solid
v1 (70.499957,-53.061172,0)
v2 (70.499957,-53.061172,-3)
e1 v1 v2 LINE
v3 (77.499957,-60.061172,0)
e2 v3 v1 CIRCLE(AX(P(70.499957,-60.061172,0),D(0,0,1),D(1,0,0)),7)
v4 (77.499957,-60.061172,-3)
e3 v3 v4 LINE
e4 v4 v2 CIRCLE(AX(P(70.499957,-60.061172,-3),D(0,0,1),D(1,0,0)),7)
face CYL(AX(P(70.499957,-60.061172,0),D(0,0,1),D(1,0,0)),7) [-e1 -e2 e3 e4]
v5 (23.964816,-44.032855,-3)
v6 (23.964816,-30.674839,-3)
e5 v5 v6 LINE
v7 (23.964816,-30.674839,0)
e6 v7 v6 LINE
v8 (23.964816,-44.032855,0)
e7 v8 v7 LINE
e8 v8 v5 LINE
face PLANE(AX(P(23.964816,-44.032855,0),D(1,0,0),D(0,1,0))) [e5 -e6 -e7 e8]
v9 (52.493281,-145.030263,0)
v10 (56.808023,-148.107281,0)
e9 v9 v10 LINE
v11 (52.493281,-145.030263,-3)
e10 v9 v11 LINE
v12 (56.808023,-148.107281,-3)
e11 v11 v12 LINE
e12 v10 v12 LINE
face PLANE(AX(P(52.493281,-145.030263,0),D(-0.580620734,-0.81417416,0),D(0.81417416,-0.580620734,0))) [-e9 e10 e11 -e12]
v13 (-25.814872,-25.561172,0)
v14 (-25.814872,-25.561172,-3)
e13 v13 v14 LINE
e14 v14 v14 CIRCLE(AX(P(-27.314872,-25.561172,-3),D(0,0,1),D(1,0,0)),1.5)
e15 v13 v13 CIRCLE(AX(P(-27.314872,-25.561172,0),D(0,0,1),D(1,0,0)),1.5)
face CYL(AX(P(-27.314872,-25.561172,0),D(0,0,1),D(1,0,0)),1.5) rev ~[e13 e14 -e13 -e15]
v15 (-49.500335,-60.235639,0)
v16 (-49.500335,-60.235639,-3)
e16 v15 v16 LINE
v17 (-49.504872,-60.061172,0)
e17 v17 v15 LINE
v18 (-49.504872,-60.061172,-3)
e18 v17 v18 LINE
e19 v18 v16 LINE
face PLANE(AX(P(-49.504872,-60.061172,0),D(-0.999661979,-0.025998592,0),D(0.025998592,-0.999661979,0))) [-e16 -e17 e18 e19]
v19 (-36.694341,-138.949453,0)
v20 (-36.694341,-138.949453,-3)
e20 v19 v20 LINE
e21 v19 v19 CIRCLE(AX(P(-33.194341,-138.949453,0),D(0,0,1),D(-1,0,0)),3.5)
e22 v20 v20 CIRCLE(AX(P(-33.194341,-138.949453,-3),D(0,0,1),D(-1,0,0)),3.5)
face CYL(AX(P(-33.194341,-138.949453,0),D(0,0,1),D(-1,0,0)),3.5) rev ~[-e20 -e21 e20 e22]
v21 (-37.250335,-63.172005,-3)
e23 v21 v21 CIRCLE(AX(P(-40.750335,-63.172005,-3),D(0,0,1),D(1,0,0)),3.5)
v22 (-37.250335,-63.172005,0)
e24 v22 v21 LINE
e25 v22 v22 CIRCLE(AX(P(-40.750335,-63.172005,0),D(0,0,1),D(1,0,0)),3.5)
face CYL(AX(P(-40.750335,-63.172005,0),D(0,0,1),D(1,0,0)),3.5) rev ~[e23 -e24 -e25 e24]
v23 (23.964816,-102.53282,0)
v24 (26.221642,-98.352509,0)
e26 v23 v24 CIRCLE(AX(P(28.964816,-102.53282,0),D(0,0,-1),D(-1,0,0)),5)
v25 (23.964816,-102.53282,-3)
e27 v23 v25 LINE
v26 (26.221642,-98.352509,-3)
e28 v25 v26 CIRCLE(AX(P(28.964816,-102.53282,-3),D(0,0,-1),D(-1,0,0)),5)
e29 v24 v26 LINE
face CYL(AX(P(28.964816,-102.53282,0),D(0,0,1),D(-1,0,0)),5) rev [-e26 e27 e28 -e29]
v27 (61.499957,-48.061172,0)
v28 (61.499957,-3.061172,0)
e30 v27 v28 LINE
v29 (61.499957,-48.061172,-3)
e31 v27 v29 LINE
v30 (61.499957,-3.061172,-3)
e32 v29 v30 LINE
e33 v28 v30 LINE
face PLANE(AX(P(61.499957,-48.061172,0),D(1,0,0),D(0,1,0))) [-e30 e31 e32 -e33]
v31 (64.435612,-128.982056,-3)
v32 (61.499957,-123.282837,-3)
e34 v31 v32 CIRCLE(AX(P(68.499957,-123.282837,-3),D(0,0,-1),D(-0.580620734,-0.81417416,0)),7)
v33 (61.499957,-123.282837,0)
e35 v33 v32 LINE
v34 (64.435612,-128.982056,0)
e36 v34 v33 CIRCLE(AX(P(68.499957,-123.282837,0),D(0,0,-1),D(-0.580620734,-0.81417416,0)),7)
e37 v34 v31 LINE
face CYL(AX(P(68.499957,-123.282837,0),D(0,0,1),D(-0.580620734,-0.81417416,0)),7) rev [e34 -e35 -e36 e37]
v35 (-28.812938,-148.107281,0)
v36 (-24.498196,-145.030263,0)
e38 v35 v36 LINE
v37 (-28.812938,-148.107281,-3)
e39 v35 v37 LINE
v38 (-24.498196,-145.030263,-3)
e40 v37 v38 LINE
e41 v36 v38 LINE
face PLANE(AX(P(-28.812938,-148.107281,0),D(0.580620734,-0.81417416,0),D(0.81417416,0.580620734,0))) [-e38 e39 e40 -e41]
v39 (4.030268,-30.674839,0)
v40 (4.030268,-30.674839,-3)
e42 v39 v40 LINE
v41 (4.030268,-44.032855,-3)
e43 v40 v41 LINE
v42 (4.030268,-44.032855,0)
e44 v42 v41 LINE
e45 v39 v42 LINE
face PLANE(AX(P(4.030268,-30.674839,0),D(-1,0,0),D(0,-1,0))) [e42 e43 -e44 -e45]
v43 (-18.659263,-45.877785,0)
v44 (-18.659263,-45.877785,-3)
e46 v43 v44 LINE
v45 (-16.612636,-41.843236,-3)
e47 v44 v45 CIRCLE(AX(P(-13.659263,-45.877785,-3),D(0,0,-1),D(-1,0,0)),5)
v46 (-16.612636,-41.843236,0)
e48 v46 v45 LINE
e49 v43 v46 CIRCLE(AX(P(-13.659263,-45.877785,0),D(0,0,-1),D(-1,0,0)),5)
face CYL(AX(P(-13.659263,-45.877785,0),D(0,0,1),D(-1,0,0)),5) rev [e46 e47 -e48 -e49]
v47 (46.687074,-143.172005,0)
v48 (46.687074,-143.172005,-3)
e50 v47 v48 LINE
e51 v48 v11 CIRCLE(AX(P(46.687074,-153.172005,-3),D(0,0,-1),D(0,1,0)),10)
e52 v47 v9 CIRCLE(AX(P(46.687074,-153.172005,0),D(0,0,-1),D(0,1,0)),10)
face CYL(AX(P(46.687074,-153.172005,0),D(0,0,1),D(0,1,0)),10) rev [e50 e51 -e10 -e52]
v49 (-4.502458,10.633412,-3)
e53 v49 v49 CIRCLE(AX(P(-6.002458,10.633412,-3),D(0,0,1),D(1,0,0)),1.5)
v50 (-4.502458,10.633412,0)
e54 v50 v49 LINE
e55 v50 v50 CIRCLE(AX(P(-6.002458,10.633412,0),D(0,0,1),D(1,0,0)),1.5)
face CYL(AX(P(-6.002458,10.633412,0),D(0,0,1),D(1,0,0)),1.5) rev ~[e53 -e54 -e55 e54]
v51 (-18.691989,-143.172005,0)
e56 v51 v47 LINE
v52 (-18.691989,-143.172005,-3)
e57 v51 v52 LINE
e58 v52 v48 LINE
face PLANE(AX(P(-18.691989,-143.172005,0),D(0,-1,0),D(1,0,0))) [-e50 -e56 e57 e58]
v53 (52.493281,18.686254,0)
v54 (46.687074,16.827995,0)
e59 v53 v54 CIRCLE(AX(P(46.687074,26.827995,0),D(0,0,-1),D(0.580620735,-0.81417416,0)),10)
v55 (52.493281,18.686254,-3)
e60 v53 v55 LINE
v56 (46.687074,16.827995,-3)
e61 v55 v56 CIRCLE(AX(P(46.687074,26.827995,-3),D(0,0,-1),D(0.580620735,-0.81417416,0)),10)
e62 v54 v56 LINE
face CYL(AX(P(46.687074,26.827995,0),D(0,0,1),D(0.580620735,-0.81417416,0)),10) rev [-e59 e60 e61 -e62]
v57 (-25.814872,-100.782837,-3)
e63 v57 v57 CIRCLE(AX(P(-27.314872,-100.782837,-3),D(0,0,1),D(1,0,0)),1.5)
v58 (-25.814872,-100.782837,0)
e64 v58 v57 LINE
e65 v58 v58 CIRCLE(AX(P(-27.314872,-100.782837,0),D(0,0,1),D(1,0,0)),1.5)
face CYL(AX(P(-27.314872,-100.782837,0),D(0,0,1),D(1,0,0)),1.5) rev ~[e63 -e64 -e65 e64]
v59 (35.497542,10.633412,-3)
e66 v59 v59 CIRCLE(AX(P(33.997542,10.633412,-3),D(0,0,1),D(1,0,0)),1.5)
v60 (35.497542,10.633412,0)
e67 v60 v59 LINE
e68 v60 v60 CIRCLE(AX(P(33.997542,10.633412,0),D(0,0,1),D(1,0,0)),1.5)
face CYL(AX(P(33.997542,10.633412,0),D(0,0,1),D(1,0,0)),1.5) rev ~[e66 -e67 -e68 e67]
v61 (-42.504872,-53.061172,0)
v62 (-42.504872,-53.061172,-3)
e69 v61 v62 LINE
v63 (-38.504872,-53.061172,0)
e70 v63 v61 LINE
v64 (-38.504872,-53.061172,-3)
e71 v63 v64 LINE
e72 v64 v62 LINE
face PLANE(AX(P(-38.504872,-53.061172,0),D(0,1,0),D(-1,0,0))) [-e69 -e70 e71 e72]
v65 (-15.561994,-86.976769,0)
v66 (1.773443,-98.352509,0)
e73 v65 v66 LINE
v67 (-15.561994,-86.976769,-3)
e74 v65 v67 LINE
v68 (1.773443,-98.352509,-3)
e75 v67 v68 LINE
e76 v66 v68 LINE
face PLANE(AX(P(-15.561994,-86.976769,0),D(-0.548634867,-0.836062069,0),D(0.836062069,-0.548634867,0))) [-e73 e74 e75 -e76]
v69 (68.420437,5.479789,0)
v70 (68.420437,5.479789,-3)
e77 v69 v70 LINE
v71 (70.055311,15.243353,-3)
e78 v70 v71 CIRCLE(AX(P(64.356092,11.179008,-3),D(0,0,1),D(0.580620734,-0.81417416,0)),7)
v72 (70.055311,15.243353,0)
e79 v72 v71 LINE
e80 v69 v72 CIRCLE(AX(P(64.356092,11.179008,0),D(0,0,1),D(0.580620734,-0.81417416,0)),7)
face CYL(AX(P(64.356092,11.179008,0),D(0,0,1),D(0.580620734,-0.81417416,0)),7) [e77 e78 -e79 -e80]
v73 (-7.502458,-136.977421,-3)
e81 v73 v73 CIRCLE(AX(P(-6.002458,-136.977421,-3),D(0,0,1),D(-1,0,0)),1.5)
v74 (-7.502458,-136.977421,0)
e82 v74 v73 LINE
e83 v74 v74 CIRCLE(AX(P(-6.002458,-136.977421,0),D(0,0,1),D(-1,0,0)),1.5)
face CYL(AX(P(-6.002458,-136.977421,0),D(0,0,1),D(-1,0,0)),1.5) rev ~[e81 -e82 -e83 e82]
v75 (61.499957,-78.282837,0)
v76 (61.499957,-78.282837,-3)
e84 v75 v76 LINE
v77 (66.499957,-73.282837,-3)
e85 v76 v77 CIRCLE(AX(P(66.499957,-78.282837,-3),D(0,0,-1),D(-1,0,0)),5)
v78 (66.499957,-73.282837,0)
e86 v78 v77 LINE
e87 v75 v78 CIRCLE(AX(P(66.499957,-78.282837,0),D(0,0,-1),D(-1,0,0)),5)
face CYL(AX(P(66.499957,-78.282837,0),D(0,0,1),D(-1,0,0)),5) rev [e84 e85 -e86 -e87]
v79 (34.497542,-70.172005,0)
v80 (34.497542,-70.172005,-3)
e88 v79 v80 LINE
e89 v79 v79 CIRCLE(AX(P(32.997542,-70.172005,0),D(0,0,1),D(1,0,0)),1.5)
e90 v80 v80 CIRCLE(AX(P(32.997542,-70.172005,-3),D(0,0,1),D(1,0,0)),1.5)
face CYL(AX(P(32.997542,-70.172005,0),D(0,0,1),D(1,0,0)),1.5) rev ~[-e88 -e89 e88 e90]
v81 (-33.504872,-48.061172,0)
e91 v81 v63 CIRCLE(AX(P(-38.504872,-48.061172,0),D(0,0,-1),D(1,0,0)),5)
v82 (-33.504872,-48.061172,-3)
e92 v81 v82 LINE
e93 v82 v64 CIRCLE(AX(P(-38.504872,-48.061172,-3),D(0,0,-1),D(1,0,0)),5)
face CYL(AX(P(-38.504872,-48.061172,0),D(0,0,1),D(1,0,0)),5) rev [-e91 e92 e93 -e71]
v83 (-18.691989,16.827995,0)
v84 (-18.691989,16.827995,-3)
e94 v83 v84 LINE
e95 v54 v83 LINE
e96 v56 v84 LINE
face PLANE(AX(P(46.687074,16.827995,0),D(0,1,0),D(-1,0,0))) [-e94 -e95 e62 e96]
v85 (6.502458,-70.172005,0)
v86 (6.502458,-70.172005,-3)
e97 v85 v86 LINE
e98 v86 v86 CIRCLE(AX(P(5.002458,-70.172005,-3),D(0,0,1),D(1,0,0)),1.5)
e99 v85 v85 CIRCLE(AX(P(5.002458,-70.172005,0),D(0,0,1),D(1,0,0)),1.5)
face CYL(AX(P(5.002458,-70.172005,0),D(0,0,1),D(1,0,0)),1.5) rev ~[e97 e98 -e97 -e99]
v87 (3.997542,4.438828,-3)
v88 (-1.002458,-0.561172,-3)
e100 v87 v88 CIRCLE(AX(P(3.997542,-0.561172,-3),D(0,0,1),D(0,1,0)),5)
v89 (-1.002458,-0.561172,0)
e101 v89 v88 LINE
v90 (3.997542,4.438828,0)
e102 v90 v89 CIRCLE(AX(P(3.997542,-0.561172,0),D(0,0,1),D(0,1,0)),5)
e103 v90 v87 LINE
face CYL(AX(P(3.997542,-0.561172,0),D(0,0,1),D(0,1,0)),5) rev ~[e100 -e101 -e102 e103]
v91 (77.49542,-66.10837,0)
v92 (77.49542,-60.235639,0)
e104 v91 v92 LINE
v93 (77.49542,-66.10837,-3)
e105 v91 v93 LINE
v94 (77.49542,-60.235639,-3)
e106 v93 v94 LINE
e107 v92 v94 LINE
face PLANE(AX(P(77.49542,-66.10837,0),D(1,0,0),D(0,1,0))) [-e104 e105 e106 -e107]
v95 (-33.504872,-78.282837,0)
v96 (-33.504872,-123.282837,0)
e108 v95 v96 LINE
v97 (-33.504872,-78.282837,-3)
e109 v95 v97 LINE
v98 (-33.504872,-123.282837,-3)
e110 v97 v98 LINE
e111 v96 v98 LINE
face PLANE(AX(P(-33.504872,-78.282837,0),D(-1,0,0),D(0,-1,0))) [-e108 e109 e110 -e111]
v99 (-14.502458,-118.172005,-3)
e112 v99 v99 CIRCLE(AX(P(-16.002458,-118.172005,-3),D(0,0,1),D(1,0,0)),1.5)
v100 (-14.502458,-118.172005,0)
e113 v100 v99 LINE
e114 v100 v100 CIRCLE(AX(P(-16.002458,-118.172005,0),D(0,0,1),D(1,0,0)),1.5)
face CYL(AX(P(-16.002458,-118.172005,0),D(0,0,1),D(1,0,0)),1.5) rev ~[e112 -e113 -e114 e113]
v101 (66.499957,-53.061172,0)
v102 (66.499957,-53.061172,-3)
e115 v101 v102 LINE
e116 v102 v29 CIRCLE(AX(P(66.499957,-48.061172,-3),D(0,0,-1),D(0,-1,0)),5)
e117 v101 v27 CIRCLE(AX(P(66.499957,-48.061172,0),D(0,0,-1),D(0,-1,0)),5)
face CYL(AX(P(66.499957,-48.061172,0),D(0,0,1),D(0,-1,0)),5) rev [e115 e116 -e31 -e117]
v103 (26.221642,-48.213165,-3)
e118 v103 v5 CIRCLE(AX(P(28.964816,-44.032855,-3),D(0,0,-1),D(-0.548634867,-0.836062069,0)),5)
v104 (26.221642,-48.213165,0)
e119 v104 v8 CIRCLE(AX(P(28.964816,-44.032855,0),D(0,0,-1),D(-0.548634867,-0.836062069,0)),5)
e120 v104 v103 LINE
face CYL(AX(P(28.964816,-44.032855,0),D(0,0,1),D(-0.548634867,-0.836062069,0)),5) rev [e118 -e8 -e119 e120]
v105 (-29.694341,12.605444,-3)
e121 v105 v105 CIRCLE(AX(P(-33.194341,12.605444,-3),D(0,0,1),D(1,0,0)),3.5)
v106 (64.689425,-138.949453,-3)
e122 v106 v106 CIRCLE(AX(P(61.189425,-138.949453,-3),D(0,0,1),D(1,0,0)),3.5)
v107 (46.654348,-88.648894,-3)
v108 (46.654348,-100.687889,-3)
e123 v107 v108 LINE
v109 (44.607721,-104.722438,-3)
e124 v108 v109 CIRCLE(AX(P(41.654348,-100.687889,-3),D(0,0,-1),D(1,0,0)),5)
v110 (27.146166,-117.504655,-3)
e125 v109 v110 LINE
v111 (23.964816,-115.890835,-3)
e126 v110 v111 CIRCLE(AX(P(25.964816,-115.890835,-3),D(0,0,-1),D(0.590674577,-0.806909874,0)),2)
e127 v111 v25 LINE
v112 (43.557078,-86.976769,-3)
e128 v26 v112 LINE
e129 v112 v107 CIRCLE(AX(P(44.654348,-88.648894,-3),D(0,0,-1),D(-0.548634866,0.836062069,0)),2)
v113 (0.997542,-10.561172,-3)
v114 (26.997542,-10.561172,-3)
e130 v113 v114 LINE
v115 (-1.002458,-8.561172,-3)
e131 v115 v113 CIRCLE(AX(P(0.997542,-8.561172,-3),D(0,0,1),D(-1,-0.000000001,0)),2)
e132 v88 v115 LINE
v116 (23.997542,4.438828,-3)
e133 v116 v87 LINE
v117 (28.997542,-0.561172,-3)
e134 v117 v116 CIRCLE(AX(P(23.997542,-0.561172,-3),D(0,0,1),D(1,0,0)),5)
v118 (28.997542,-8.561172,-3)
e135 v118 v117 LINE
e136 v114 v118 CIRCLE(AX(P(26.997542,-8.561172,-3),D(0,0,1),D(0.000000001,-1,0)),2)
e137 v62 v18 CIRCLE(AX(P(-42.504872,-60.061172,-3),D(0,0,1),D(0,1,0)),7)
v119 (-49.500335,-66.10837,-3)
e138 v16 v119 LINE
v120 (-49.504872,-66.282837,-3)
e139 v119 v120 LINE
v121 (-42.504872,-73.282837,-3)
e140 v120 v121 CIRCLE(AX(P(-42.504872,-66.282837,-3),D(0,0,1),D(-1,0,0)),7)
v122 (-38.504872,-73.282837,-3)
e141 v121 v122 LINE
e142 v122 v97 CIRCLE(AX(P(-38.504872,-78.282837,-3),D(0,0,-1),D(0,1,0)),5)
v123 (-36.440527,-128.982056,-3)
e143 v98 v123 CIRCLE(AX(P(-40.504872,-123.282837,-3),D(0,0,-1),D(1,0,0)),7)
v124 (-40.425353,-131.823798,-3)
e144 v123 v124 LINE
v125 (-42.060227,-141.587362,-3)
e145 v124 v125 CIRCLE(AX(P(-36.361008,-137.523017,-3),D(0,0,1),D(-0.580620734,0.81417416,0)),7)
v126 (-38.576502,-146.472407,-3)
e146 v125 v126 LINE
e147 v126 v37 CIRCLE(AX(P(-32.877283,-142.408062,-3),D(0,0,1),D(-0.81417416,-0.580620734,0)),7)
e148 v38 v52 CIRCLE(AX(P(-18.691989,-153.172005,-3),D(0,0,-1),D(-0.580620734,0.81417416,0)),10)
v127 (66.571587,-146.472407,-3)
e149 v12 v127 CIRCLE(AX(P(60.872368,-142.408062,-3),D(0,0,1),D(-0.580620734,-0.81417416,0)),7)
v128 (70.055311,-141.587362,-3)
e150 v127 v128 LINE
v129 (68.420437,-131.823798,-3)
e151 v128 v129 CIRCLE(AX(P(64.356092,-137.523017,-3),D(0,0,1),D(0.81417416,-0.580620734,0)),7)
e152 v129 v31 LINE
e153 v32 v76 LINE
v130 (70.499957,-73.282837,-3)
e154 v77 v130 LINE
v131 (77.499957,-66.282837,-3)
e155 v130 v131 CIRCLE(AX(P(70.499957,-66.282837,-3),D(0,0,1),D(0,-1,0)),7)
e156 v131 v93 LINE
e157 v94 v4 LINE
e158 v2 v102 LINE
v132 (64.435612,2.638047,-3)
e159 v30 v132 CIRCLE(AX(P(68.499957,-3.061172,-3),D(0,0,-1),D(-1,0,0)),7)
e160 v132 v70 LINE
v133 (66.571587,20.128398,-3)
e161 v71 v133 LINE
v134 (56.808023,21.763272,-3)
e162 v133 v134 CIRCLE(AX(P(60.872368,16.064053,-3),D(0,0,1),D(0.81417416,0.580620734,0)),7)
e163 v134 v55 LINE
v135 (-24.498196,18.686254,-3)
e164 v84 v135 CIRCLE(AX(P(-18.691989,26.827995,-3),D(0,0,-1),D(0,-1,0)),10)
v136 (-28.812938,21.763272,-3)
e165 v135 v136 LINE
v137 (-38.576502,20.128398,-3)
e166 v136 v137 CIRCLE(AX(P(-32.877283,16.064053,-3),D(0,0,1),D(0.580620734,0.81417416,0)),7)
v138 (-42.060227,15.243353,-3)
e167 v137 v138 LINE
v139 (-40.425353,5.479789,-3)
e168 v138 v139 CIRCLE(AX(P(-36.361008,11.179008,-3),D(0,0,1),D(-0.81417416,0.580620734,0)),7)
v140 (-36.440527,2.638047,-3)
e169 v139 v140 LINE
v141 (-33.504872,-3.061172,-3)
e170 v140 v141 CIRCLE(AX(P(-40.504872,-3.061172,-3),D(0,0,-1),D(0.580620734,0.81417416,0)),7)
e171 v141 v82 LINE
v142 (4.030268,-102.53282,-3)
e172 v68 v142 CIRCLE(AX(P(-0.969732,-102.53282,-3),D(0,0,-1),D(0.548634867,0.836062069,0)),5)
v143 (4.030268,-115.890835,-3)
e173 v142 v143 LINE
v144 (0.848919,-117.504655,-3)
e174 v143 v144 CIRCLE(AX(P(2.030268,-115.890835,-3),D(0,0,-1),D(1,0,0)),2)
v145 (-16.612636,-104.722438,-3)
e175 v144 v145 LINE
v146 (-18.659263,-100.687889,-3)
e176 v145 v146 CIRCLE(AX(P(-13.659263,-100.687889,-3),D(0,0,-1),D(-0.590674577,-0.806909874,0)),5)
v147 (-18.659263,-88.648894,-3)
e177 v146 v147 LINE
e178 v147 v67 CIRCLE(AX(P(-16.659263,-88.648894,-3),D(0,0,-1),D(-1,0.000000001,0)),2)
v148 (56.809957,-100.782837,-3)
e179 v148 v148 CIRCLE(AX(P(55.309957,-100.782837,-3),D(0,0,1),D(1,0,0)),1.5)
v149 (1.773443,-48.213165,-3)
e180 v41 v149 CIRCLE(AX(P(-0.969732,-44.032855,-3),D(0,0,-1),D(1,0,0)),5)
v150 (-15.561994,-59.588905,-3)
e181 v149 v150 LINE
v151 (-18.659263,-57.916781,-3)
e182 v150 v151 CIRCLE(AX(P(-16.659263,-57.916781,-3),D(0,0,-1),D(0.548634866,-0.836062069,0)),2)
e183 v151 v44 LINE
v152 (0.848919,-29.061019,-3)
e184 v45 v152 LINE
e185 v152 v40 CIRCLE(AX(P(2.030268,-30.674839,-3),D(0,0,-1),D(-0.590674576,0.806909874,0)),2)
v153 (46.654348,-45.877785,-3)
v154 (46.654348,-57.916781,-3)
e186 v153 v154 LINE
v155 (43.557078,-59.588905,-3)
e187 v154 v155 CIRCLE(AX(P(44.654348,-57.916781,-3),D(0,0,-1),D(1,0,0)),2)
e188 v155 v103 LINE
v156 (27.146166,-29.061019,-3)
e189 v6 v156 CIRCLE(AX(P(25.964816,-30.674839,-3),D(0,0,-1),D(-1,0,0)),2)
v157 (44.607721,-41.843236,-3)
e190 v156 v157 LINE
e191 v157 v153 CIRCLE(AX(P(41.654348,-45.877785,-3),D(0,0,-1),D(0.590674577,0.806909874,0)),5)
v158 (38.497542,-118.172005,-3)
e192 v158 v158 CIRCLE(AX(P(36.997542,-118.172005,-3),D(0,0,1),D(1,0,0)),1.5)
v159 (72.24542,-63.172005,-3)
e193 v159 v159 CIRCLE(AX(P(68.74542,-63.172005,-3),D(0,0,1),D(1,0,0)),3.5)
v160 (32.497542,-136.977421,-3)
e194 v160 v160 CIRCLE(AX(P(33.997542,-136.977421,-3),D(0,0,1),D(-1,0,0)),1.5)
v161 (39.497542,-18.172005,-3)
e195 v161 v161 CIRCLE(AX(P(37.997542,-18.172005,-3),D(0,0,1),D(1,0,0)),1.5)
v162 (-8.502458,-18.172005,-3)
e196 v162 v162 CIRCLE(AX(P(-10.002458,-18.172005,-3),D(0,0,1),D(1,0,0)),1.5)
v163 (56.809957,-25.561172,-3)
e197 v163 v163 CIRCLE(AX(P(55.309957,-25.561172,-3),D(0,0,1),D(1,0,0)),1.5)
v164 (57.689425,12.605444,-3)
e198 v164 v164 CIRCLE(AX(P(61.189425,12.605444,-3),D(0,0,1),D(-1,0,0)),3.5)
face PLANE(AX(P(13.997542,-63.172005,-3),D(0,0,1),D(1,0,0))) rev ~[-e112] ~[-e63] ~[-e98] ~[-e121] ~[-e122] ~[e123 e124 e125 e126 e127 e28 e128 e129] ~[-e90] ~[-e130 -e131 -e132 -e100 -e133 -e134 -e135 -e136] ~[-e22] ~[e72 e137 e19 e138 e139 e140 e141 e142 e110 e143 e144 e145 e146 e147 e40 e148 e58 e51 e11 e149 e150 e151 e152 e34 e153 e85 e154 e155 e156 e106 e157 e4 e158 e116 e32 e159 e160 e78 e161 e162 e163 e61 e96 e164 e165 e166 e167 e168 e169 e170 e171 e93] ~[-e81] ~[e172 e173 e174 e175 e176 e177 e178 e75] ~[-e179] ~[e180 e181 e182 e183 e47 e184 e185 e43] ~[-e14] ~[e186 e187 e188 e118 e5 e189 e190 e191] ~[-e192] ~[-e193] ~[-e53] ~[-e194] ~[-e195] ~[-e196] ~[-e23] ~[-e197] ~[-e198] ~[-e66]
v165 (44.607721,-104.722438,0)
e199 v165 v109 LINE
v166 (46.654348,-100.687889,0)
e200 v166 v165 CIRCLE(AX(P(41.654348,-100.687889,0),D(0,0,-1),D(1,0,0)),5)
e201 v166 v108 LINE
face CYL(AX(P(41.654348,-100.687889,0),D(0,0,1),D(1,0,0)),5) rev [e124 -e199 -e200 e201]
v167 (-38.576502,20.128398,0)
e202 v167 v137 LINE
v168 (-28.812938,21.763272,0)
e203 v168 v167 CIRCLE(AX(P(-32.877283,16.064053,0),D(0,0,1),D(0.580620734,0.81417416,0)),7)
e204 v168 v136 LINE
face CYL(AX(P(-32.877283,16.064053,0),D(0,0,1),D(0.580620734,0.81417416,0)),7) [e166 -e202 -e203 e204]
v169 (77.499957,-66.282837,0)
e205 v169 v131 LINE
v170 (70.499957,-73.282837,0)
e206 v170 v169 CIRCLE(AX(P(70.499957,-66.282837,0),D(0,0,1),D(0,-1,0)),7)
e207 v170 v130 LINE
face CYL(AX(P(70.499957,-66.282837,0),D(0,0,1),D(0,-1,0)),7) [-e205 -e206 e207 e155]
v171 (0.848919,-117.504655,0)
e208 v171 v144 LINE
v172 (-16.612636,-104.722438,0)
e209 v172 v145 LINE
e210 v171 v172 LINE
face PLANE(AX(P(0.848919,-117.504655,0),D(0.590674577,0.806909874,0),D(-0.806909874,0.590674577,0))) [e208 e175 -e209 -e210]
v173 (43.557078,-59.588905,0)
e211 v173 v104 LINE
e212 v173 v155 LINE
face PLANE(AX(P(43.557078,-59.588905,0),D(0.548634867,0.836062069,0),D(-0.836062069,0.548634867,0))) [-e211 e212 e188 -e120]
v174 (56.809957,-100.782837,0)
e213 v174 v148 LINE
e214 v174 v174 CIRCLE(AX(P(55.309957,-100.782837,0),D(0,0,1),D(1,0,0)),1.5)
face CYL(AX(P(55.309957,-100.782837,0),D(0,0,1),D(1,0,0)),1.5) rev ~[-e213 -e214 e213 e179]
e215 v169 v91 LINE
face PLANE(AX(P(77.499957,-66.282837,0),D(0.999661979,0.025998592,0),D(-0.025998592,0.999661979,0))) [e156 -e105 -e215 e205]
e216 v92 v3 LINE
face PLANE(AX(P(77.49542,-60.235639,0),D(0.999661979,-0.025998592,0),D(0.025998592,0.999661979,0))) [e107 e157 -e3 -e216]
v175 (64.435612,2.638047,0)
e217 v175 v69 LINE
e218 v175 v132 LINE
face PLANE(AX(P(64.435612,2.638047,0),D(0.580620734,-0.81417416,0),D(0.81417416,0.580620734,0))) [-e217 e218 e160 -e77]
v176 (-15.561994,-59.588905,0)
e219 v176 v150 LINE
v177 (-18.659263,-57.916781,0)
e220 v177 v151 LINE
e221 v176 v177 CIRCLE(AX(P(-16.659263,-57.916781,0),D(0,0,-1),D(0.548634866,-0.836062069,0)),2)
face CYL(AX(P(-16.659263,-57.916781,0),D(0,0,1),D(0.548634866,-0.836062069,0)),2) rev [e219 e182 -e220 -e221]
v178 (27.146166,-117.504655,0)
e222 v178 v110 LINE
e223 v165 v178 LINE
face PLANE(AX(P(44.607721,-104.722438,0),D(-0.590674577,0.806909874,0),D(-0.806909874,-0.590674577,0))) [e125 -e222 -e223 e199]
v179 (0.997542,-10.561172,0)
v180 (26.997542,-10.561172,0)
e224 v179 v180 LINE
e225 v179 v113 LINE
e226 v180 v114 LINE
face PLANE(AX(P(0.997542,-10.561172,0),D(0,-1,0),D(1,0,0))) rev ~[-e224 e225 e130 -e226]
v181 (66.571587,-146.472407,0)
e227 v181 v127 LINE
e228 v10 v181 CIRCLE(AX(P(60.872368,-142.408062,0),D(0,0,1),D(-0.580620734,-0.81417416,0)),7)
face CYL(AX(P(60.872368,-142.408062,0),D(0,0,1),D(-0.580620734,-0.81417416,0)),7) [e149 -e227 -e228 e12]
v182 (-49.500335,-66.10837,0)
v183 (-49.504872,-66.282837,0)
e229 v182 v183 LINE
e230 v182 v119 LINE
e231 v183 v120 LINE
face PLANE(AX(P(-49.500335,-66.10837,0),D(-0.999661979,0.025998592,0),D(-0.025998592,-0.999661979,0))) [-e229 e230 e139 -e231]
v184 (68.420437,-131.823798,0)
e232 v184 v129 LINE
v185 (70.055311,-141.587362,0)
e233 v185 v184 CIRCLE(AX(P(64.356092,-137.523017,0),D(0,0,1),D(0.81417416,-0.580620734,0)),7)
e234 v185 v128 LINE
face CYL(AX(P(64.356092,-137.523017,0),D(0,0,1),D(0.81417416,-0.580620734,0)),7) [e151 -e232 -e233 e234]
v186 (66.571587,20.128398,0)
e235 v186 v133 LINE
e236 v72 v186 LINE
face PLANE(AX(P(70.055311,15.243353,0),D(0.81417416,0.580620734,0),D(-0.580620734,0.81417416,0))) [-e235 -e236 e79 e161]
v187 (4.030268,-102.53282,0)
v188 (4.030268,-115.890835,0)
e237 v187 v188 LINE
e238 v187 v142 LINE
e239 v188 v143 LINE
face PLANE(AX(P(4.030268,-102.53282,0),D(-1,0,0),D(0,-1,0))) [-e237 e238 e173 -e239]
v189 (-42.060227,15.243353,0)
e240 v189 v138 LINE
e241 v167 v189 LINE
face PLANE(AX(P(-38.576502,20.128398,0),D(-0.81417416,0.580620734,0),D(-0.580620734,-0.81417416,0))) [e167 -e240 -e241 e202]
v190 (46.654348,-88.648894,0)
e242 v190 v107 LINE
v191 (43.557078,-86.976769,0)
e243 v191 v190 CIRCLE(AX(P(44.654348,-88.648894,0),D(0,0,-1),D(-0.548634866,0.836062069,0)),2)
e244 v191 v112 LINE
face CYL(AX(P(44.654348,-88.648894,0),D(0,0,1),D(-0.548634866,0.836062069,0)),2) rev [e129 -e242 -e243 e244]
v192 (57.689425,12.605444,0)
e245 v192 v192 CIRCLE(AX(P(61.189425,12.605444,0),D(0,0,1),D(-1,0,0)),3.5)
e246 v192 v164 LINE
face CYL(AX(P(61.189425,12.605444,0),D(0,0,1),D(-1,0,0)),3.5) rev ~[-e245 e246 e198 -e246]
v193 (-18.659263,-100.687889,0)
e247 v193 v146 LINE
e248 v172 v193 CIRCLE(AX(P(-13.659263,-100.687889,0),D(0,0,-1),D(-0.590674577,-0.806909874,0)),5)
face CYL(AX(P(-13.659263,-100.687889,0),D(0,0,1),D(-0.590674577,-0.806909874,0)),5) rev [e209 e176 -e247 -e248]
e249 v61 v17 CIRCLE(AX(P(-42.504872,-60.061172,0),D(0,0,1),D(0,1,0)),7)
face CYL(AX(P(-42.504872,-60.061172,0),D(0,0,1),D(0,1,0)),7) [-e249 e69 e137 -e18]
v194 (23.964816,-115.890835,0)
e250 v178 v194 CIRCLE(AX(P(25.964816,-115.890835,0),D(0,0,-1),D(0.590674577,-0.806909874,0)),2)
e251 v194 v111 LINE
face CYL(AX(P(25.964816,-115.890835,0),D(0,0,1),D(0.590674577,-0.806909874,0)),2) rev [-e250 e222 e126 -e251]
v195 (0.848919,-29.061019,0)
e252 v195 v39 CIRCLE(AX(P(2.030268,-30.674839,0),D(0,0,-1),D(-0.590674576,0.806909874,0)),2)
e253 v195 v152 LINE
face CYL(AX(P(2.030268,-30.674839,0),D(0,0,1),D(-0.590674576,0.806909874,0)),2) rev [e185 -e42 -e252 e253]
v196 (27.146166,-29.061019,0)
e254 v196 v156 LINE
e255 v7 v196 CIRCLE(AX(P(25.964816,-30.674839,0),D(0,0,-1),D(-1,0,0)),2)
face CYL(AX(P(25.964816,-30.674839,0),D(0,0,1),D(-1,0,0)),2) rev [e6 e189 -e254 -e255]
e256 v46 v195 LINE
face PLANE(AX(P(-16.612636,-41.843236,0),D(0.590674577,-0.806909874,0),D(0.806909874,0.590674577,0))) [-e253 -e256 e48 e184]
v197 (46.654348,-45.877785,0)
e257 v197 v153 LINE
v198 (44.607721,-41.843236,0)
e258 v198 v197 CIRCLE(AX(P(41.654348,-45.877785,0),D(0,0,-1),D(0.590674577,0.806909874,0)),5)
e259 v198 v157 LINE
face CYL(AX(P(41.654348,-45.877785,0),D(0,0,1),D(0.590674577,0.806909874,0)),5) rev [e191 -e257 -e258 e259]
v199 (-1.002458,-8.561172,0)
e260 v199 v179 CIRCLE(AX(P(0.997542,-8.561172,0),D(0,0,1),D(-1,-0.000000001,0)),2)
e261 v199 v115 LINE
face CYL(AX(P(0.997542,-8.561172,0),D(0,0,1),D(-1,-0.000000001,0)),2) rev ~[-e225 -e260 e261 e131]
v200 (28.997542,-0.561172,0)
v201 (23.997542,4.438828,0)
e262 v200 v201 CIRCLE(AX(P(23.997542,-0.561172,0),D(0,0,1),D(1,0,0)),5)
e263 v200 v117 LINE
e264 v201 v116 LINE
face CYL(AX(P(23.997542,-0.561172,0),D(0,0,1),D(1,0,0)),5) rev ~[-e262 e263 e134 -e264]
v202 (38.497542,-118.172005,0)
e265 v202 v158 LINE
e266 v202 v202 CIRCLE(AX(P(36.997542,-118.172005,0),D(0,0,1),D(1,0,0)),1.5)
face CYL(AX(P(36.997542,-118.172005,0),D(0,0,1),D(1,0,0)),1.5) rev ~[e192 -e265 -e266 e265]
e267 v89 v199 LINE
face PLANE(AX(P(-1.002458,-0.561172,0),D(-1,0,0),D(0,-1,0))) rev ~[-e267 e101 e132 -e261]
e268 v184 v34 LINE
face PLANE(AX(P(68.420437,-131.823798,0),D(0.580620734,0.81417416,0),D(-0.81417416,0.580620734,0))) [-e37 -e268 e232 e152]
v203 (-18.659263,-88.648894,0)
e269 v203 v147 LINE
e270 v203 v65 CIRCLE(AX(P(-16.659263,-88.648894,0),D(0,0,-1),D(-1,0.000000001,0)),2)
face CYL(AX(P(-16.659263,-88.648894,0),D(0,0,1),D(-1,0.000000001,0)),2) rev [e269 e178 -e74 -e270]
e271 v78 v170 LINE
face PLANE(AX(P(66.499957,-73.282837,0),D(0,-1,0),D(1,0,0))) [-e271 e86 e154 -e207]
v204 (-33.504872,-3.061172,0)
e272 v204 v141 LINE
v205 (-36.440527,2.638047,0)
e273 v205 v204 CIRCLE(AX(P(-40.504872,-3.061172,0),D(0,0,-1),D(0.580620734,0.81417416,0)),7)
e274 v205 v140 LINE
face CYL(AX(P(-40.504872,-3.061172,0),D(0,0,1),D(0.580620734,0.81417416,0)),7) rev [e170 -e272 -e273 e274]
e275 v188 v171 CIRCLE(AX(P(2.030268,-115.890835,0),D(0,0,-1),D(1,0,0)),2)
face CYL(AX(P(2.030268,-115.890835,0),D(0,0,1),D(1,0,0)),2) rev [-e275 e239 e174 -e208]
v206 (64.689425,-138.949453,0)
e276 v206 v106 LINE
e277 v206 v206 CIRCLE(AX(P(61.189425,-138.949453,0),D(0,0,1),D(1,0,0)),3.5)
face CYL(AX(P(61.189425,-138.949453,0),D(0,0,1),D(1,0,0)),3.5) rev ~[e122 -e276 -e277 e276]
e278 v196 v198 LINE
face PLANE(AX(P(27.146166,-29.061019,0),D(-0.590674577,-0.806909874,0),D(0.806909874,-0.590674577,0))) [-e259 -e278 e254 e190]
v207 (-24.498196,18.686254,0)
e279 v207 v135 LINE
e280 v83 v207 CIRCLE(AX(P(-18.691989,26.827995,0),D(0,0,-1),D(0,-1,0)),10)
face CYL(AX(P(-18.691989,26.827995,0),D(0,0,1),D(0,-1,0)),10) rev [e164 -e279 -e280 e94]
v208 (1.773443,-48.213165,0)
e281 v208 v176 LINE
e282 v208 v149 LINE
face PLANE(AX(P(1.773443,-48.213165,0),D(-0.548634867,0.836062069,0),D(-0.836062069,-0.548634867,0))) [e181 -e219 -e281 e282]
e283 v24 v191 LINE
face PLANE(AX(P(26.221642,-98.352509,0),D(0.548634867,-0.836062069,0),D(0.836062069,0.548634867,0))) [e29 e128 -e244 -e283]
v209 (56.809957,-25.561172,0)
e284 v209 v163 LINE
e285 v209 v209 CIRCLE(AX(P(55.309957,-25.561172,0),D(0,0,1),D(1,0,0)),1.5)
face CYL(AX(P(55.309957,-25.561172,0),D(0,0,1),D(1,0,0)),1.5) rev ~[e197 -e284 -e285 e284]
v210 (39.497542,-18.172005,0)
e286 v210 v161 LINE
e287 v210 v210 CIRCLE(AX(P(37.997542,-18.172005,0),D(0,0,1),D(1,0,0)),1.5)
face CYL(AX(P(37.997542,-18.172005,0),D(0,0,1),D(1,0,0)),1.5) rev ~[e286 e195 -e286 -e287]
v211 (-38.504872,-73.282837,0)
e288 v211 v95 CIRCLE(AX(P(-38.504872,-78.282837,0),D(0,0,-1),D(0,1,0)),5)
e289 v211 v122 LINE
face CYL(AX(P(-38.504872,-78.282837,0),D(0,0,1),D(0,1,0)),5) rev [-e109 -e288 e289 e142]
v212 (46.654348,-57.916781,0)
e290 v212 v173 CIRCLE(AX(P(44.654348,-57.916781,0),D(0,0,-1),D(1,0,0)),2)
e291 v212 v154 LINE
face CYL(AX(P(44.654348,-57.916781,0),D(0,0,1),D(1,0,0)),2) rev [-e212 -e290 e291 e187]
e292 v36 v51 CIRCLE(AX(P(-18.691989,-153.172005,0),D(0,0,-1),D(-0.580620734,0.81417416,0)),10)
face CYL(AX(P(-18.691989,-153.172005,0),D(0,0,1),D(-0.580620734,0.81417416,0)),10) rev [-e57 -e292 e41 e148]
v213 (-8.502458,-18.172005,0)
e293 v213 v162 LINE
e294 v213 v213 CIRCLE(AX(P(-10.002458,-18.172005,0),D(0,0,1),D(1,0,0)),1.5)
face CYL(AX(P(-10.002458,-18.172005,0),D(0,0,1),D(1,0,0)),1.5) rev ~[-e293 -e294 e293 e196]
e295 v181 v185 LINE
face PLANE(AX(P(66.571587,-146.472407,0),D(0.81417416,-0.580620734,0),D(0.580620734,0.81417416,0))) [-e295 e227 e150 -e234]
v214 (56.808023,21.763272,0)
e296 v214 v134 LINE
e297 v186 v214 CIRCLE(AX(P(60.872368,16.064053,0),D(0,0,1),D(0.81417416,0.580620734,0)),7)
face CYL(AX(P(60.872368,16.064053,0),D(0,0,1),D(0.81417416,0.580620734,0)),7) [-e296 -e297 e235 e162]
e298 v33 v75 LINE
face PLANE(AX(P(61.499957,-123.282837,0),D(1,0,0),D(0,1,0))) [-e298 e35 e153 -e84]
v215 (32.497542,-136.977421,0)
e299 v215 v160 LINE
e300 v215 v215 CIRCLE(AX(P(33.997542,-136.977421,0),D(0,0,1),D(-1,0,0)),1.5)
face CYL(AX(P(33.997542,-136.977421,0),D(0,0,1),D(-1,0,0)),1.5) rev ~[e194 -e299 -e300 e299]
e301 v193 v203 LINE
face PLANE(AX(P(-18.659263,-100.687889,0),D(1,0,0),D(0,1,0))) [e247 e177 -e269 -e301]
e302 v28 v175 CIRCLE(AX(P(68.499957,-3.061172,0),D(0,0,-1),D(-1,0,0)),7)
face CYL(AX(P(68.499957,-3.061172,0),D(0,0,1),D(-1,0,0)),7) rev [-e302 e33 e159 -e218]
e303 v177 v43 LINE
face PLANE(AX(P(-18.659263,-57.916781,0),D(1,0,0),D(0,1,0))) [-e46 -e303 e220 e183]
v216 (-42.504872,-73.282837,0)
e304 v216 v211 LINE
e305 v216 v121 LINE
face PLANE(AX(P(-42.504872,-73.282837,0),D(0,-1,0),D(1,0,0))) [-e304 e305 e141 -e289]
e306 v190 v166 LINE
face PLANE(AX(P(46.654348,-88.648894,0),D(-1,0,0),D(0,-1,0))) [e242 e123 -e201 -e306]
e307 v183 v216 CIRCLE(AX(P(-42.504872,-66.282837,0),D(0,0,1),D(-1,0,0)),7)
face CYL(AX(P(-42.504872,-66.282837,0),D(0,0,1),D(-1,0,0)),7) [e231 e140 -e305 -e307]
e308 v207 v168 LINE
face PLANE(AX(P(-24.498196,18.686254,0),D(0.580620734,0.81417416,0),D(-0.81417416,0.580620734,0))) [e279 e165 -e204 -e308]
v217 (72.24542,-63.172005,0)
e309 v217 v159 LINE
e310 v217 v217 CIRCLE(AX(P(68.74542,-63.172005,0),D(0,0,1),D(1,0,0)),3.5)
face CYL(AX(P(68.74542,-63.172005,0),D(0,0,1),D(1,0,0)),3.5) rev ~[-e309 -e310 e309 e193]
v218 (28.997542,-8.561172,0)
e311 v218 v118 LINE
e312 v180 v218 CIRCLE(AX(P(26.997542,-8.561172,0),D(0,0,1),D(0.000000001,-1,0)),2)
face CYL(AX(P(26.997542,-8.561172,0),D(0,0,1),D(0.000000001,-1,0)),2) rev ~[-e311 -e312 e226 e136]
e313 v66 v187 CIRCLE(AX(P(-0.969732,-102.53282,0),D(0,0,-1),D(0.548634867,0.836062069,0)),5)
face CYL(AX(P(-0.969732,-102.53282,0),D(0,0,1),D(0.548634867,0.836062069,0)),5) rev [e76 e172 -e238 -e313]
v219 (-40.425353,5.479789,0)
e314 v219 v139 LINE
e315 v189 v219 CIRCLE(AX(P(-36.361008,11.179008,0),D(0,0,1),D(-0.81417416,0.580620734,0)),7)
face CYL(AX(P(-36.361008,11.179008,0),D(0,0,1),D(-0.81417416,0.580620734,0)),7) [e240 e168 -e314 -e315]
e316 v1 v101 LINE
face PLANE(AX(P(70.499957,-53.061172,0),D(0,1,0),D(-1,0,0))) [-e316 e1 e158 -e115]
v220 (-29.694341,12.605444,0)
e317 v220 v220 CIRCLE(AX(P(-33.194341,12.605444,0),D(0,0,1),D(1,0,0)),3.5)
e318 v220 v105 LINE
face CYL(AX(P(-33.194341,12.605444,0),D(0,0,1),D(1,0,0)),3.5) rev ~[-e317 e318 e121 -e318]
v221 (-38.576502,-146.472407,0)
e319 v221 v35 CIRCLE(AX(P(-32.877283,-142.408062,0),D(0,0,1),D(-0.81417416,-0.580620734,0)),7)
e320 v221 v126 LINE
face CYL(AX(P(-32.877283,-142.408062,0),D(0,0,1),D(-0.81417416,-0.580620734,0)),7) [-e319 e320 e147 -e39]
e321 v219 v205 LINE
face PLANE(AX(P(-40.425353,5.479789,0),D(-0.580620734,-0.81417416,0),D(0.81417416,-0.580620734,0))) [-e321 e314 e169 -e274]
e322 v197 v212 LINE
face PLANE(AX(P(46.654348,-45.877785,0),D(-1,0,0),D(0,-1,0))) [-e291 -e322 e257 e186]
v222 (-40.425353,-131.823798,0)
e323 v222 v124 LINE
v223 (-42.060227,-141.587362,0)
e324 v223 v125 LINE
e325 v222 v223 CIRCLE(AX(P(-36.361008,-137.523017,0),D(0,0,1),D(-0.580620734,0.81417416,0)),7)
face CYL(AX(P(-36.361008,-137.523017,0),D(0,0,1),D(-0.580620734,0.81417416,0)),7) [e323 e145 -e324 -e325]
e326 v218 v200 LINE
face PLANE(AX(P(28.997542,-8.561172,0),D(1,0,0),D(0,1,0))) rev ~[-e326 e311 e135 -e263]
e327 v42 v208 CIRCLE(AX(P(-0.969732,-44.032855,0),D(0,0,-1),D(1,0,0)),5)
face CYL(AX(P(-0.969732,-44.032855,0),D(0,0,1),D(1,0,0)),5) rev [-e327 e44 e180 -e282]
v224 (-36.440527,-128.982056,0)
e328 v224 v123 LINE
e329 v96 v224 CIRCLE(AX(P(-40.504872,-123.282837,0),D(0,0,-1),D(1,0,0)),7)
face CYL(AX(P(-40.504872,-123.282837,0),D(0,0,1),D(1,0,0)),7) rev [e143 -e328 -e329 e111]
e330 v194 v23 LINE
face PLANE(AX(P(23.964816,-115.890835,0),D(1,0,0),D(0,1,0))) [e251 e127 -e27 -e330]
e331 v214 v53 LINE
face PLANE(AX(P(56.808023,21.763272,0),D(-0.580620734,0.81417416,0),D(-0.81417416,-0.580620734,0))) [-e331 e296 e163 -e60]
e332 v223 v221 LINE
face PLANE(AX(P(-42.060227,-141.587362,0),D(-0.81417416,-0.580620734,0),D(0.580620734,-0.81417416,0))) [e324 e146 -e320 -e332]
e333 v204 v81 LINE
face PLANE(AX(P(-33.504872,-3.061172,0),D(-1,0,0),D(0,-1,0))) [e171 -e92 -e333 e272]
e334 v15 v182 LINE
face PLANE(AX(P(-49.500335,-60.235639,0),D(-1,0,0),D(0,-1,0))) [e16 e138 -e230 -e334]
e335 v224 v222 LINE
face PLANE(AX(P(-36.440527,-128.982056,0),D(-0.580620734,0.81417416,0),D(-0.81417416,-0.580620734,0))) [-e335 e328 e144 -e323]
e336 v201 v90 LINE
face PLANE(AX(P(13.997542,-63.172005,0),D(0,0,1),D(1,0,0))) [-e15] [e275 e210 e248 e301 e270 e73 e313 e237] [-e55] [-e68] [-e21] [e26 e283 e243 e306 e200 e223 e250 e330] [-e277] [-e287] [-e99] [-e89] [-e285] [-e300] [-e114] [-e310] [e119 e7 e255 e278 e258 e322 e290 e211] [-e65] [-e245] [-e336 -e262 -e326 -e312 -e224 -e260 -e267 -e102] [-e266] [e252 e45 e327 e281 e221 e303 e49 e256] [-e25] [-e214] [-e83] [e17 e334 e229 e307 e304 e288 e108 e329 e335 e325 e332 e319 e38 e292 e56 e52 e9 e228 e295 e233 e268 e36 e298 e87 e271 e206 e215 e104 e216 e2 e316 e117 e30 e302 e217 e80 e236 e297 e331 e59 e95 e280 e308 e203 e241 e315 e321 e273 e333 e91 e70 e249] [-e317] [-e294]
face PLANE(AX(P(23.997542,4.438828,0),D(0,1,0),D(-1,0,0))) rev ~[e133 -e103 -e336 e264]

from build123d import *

# Parameters (mm, degrees)
SKETCH1_R       = 3.5
SKETCH1_R_2     = 1.5
EXTRUDE_1_DEPTH = 3


with BuildPart() as part:
    # Sketch1 → Бобышка-Вытянуть1 (new body)
    with BuildSketch(Plane.XY):
        with BuildLine():
            Line((-24.498196466, 18.686253871), (-28.812938034, 21.763271713))
            ThreePointArc((-28.812938034, 21.763271713), (-34.033313652, 22.967935089), (-38.576502294, 20.128397731))
            Line((-38.576502294, 20.128397731), (-42.0602267, 15.24335277))
            ThreePointArc((-42.0602267, 15.24335277), (-43.264890076, 10.022977152), (-40.425352718, 5.47978851))
            Line((-40.425352718, 5.47978851), (-36.440527218, 2.638047245))
            ThreePointArc((-36.440527218, 2.638047245), (-34.281914219, 0.144259766), (-33.504872357, -3.061171876))
            Line((-33.504872357, -3.061171876), (-33.504872357, -48.061171876))
            ThreePointArc((-33.504872357, -48.061171876), (-34.969338451, -51.596705782), (-38.504872357, -53.061171876))
            Line((-38.504872357, -53.061171876), (-42.504872357, -53.061171876))
            ThreePointArc((-42.504872357, -53.061171876), (-47.454619825, -55.111424407), (-49.504872357, -60.061171876))
            Line((-49.504872357, -60.061171876), (-49.500334917, -60.235639257))
            Line((-49.500334917, -60.235639257), (-49.500334917, -66.108369799))
            Line((-49.500334917, -66.108369799), (-49.504872357, -66.28283718))
            ThreePointArc((-49.504872357, -66.28283718), (-47.454619825, -71.232584649), (-42.504872357, -73.28283718))
            Line((-42.504872357, -73.28283718), (-38.504872357, -73.28283718))
            ThreePointArc((-38.504872357, -73.28283718), (-34.969338451, -74.747303275), (-33.504872357, -78.28283718))
            Line((-33.504872357, -78.28283718), (-33.504872357, -123.28283718))
            ThreePointArc((-33.504872357, -123.28283718), (-34.281914219, -126.488268823), (-36.440527218, -128.982056301))
            Line((-36.440527218, -128.982056301), (-40.425352718, -131.823797566))
            ThreePointArc((-40.425352718, -131.823797566), (-43.264890076, -136.366986209), (-42.0602267, -141.587361827))
            Line((-42.0602267, -141.587361827), (-38.576502294, -146.472406787))
            ThreePointArc((-38.576502294, -146.472406787), (-34.033313652, -149.311944145), (-28.812938034, -148.107280769))
            Line((-28.812938034, -148.107280769), (-24.498196466, -145.030262927))
            ThreePointArc((-24.498196466, -145.030262927), (-21.740151192, -143.647892601), (-18.691989124, -143.172004528))
            Line((-18.691989124, -143.172004528), (46.687073776, -143.172004528))
            ThreePointArc((46.687073776, -143.172004528), (49.735235844, -143.647892601), (52.493281118, -145.030262927))
            Line((52.493281118, -145.030262927), (56.808022686, -148.107280769))
            ThreePointArc((56.808022686, -148.107280769), (62.028398304, -149.311944145), (66.571586947, -146.472406787))
            Line((66.571586947, -146.472406787), (70.055311352, -141.587361827))
            ThreePointArc((70.055311352, -141.587361827), (71.259974728, -136.366986209), (68.42043737, -131.823797566))
            Line((68.42043737, -131.823797566), (64.43561187, -128.982056301))
            ThreePointArc((64.43561187, -128.982056301), (62.276998871, -126.488268823), (61.499957009, -123.28283718))
            Line((61.499957009, -123.28283718), (61.499957009, -78.28283718))
            ThreePointArc((61.499957009, -78.28283718), (62.964423103, -74.747303275), (66.499957009, -73.28283718))
            Line((66.499957009, -73.28283718), (70.499957009, -73.28283718))
            ThreePointArc((70.499957009, -73.28283718), (75.449704478, -71.232584649), (77.499957009, -66.28283718))
            Line((77.499957009, -66.28283718), (77.495419569, -66.108369799))
            Line((77.495419569, -66.108369799), (77.495419569, -60.235639257))
            Line((77.495419569, -60.235639257), (77.499957009, -60.061171876))
            ThreePointArc((77.499957009, -60.061171876), (75.449704478, -55.111424407), (70.499957009, -53.061171876))
            Line((70.499957009, -53.061171876), (66.499957009, -53.061171876))
            ThreePointArc((66.499957009, -53.061171876), (62.964423103, -51.596705782), (61.499957009, -48.061171876))
            Line((61.499957009, -48.061171876), (61.499957009, -3.061171876))
            ThreePointArc((61.499957009, -3.061171876), (62.276998871, 0.144259766), (64.43561187, 2.638047245))
            Line((64.43561187, 2.638047245), (68.42043737, 5.47978851))
            ThreePointArc((68.42043737, 5.47978851), (71.259974728, 10.022977152), (70.055311352, 15.24335277))
            Line((70.055311352, 15.24335277), (66.571586947, 20.128397731))
            ThreePointArc((66.571586947, 20.128397731), (62.028398304, 22.967935089), (56.808022686, 21.763271713))
            Line((56.808022686, 21.763271713), (52.493281118, 18.686253871))
            ThreePointArc((52.493281118, 18.686253871), (49.735235844, 17.303883544), (46.687073776, 16.827995472))
            Line((46.687073776, 16.827995472), (-18.691989124, 16.827995472))
            ThreePointArc((-18.691989124, 16.827995472), (-21.740151192, 17.303883544), (-24.498196466, 18.686253871))
        make_face()
        with Locations((68.745419569, -63.172004528)):
            Circle(SKETCH1_R, mode=Mode.SUBTRACT)
        with Locations((-40.750334917, -63.172004528)):
            Circle(SKETCH1_R, mode=Mode.SUBTRACT)
        with Locations((33.997542326, 10.633411798)):
            Circle(SKETCH1_R_2, mode=Mode.SUBTRACT)
        with Locations((-6.002457674, 10.633411798)):
            Circle(SKETCH1_R_2, mode=Mode.SUBTRACT)
        with Locations((-33.194340596, 12.605443826)):
            Circle(SKETCH1_R, mode=Mode.SUBTRACT)
        with Locations(Location((61.189425248, 12.605443826, 0), (0, 0, 180))):
            Circle(SKETCH1_R, mode=Mode.SUBTRACT)
        with Locations(Location((-6.002457674, -136.977420854, 0), (0, 0, 180))):
            Circle(SKETCH1_R_2, mode=Mode.SUBTRACT)
        with Locations(Location((33.997542326, -136.977420854, 0), (0, 0, 180))):
            Circle(SKETCH1_R_2, mode=Mode.SUBTRACT)
        with Locations((-27.314872357, -100.78283718)):
            Circle(SKETCH1_R_2, mode=Mode.SUBTRACT)
        with Locations((55.309957009, -100.78283718)):
            Circle(SKETCH1_R_2, mode=Mode.SUBTRACT)
        with Locations((-27.314872357, -25.561171876)):
            Circle(SKETCH1_R_2, mode=Mode.SUBTRACT)
        with Locations((55.309957009, -25.561171876)):
            Circle(SKETCH1_R_2, mode=Mode.SUBTRACT)
        with Locations((-16.002457674, -118.172004528)):
            Circle(SKETCH1_R_2, mode=Mode.SUBTRACT)
        with Locations((36.997542326, -118.172004528)):
            Circle(SKETCH1_R_2, mode=Mode.SUBTRACT)
        with Locations((61.189425248, -138.949452883)):
            Circle(SKETCH1_R, mode=Mode.SUBTRACT)
        with Locations(Location((-33.194340596, -138.949452883, 0), (0, 0, 180))):
            Circle(SKETCH1_R, mode=Mode.SUBTRACT)
        with Locations((37.997542326, -18.172004528)):
            Circle(SKETCH1_R_2, mode=Mode.SUBTRACT)
        with Locations((-10.002457674, -18.172004528)):
            Circle(SKETCH1_R_2, mode=Mode.SUBTRACT)
        with Locations((32.99754233, -70.172004528)):
            Circle(SKETCH1_R_2, mode=Mode.SUBTRACT)
        with Locations((5.00245767, -70.172004528)):
            Circle(SKETCH1_R_2, mode=Mode.SUBTRACT)
        with BuildLine():
            Line((46.654347897, -45.877785269), (46.654347897, -57.916780859))
            ThreePointArc((46.654347897, -57.916780859), (45.604469083, -59.67668703), (43.557078164, -59.588904997))
            Line((43.557078164, -59.588904997), (26.221642115, -48.21316509))
            ThreePointArc((26.221642115, -48.21316509), (24.565051018, -46.408157708), (23.964816447, -44.032854745))
            Line((23.964816447, -44.032854745), (23.964816447, -36.732206564))
            Line((23.964816447, -36.732206564), (23.964816447, -30.674839138))
            ThreePointArc((23.964816447, -30.674839138), (25.060023185, -28.891205445), (27.1461656, -29.06101939))
            Line((27.1461656, -29.06101939), (44.60772078, -41.843235899))
            ThreePointArc((44.60772078, -41.843235899), (46.113432131, -43.615802114), (46.654347897, -45.877785269))
        make_face(mode=Mode.SUBTRACT)
        with BuildLine():
            Line((26.221642115, -98.352509271), (43.557078164, -86.976769364))
            ThreePointArc((43.557078164, -86.976769364), (45.604469083, -86.888987331), (46.654347897, -88.648893502))
            Line((46.654347897, -88.648893502), (46.654347897, -100.687889092))
            ThreePointArc((46.654347897, -100.687889092), (46.113432131, -102.949872247), (44.60772078, -104.722438462))
            Line((44.60772078, -104.722438462), (27.1461656, -117.50465497))
            ThreePointArc((27.1461656, -117.50465497), (25.060023185, -117.674468916), (23.964816447, -115.890835223))
            Line((23.964816447, -115.890835223), (23.964816447, -109.833467796))
            Line((23.964816447, -109.833467796), (23.964816447, -102.532819616))
            ThreePointArc((23.964816447, -102.532819616), (24.565051018, -100.157516653), (26.221642115, -98.352509271))
        make_face(mode=Mode.SUBTRACT)
        with BuildLine():
            Line((-18.659263245, -100.687889092), (-18.659263245, -88.648893502))
            ThreePointArc((-18.659263245, -88.648893502), (-17.60938443, -86.888987331), (-15.561993512, -86.976769364))
            Line((-15.561993512, -86.976769364), (1.773442538, -98.352509271))
            ThreePointArc((1.773442538, -98.352509271), (3.430033634, -100.157516653), (4.030268205, -102.532819616))
            Line((4.030268205, -102.532819616), (4.030268205, -109.833467796))
            Line((4.030268205, -109.833467796), (4.030268205, -115.890835223))
            ThreePointArc((4.030268205, -115.890835223), (2.935061467, -117.674468916), (0.848919052, -117.50465497))
            Line((0.848919052, -117.50465497), (-16.612636128, -104.722438462))
            ThreePointArc((-16.612636128, -104.722438462), (-18.118347479, -102.949872247), (-18.659263245, -100.687889092))
        make_face(mode=Mode.SUBTRACT)
        with BuildLine():
            Line((1.773442538, -48.21316509), (-15.561993512, -59.588904997))
            ThreePointArc((-15.561993512, -59.588904997), (-17.60938443, -59.67668703), (-18.659263245, -57.916780859))
            Line((-18.659263245, -57.916780859), (-18.659263245, -45.877785269))
            ThreePointArc((-18.659263245, -45.877785269), (-18.118347479, -43.615802114), (-16.612636128, -41.843235899))
            Line((-16.612636128, -41.843235899), (0.848919052, -29.06101939))
            ThreePointArc((0.848919052, -29.06101939), (2.935061467, -28.891205445), (4.030268205, -30.674839138))
            Line((4.030268205, -30.674839138), (4.030268205, -36.732206564))
            Line((4.030268205, -36.732206564), (4.030268205, -44.032854745))
            ThreePointArc((4.030268205, -44.032854745), (3.430033634, -46.408157708), (1.773442538, -48.21316509))
        make_face(mode=Mode.SUBTRACT)
        with BuildLine():
            Line((0.997542326, -10.561171876), (26.997542326, -10.561171876))
            ThreePointArc((26.997542326, -10.561171876), (28.411755888, -9.975385438), (28.997542326, -8.561171876))
            Line((28.997542326, -8.561171876), (28.997542326, -0.561171876))
            ThreePointArc((28.997542326, -0.561171876), (27.533076232, 2.97436203), (23.997542326, 4.438828124))
            Line((23.997542326, 4.438828124), (3.997542326, 4.438828124))
            ThreePointArc((3.997542326, 4.438828124), (0.46200842, 2.97436203), (-1.002457674, -0.561171876))
            Line((-1.002457674, -0.561171876), (-1.002457674, -8.561171876))
            ThreePointArc((-1.002457674, -8.561171876), (-0.416671236, -9.975385438), (0.997542326, -10.561171876))
        make_face(mode=Mode.SUBTRACT)
    extrude(amount=-EXTRUDE_1_DEPTH)


solid = part.part
